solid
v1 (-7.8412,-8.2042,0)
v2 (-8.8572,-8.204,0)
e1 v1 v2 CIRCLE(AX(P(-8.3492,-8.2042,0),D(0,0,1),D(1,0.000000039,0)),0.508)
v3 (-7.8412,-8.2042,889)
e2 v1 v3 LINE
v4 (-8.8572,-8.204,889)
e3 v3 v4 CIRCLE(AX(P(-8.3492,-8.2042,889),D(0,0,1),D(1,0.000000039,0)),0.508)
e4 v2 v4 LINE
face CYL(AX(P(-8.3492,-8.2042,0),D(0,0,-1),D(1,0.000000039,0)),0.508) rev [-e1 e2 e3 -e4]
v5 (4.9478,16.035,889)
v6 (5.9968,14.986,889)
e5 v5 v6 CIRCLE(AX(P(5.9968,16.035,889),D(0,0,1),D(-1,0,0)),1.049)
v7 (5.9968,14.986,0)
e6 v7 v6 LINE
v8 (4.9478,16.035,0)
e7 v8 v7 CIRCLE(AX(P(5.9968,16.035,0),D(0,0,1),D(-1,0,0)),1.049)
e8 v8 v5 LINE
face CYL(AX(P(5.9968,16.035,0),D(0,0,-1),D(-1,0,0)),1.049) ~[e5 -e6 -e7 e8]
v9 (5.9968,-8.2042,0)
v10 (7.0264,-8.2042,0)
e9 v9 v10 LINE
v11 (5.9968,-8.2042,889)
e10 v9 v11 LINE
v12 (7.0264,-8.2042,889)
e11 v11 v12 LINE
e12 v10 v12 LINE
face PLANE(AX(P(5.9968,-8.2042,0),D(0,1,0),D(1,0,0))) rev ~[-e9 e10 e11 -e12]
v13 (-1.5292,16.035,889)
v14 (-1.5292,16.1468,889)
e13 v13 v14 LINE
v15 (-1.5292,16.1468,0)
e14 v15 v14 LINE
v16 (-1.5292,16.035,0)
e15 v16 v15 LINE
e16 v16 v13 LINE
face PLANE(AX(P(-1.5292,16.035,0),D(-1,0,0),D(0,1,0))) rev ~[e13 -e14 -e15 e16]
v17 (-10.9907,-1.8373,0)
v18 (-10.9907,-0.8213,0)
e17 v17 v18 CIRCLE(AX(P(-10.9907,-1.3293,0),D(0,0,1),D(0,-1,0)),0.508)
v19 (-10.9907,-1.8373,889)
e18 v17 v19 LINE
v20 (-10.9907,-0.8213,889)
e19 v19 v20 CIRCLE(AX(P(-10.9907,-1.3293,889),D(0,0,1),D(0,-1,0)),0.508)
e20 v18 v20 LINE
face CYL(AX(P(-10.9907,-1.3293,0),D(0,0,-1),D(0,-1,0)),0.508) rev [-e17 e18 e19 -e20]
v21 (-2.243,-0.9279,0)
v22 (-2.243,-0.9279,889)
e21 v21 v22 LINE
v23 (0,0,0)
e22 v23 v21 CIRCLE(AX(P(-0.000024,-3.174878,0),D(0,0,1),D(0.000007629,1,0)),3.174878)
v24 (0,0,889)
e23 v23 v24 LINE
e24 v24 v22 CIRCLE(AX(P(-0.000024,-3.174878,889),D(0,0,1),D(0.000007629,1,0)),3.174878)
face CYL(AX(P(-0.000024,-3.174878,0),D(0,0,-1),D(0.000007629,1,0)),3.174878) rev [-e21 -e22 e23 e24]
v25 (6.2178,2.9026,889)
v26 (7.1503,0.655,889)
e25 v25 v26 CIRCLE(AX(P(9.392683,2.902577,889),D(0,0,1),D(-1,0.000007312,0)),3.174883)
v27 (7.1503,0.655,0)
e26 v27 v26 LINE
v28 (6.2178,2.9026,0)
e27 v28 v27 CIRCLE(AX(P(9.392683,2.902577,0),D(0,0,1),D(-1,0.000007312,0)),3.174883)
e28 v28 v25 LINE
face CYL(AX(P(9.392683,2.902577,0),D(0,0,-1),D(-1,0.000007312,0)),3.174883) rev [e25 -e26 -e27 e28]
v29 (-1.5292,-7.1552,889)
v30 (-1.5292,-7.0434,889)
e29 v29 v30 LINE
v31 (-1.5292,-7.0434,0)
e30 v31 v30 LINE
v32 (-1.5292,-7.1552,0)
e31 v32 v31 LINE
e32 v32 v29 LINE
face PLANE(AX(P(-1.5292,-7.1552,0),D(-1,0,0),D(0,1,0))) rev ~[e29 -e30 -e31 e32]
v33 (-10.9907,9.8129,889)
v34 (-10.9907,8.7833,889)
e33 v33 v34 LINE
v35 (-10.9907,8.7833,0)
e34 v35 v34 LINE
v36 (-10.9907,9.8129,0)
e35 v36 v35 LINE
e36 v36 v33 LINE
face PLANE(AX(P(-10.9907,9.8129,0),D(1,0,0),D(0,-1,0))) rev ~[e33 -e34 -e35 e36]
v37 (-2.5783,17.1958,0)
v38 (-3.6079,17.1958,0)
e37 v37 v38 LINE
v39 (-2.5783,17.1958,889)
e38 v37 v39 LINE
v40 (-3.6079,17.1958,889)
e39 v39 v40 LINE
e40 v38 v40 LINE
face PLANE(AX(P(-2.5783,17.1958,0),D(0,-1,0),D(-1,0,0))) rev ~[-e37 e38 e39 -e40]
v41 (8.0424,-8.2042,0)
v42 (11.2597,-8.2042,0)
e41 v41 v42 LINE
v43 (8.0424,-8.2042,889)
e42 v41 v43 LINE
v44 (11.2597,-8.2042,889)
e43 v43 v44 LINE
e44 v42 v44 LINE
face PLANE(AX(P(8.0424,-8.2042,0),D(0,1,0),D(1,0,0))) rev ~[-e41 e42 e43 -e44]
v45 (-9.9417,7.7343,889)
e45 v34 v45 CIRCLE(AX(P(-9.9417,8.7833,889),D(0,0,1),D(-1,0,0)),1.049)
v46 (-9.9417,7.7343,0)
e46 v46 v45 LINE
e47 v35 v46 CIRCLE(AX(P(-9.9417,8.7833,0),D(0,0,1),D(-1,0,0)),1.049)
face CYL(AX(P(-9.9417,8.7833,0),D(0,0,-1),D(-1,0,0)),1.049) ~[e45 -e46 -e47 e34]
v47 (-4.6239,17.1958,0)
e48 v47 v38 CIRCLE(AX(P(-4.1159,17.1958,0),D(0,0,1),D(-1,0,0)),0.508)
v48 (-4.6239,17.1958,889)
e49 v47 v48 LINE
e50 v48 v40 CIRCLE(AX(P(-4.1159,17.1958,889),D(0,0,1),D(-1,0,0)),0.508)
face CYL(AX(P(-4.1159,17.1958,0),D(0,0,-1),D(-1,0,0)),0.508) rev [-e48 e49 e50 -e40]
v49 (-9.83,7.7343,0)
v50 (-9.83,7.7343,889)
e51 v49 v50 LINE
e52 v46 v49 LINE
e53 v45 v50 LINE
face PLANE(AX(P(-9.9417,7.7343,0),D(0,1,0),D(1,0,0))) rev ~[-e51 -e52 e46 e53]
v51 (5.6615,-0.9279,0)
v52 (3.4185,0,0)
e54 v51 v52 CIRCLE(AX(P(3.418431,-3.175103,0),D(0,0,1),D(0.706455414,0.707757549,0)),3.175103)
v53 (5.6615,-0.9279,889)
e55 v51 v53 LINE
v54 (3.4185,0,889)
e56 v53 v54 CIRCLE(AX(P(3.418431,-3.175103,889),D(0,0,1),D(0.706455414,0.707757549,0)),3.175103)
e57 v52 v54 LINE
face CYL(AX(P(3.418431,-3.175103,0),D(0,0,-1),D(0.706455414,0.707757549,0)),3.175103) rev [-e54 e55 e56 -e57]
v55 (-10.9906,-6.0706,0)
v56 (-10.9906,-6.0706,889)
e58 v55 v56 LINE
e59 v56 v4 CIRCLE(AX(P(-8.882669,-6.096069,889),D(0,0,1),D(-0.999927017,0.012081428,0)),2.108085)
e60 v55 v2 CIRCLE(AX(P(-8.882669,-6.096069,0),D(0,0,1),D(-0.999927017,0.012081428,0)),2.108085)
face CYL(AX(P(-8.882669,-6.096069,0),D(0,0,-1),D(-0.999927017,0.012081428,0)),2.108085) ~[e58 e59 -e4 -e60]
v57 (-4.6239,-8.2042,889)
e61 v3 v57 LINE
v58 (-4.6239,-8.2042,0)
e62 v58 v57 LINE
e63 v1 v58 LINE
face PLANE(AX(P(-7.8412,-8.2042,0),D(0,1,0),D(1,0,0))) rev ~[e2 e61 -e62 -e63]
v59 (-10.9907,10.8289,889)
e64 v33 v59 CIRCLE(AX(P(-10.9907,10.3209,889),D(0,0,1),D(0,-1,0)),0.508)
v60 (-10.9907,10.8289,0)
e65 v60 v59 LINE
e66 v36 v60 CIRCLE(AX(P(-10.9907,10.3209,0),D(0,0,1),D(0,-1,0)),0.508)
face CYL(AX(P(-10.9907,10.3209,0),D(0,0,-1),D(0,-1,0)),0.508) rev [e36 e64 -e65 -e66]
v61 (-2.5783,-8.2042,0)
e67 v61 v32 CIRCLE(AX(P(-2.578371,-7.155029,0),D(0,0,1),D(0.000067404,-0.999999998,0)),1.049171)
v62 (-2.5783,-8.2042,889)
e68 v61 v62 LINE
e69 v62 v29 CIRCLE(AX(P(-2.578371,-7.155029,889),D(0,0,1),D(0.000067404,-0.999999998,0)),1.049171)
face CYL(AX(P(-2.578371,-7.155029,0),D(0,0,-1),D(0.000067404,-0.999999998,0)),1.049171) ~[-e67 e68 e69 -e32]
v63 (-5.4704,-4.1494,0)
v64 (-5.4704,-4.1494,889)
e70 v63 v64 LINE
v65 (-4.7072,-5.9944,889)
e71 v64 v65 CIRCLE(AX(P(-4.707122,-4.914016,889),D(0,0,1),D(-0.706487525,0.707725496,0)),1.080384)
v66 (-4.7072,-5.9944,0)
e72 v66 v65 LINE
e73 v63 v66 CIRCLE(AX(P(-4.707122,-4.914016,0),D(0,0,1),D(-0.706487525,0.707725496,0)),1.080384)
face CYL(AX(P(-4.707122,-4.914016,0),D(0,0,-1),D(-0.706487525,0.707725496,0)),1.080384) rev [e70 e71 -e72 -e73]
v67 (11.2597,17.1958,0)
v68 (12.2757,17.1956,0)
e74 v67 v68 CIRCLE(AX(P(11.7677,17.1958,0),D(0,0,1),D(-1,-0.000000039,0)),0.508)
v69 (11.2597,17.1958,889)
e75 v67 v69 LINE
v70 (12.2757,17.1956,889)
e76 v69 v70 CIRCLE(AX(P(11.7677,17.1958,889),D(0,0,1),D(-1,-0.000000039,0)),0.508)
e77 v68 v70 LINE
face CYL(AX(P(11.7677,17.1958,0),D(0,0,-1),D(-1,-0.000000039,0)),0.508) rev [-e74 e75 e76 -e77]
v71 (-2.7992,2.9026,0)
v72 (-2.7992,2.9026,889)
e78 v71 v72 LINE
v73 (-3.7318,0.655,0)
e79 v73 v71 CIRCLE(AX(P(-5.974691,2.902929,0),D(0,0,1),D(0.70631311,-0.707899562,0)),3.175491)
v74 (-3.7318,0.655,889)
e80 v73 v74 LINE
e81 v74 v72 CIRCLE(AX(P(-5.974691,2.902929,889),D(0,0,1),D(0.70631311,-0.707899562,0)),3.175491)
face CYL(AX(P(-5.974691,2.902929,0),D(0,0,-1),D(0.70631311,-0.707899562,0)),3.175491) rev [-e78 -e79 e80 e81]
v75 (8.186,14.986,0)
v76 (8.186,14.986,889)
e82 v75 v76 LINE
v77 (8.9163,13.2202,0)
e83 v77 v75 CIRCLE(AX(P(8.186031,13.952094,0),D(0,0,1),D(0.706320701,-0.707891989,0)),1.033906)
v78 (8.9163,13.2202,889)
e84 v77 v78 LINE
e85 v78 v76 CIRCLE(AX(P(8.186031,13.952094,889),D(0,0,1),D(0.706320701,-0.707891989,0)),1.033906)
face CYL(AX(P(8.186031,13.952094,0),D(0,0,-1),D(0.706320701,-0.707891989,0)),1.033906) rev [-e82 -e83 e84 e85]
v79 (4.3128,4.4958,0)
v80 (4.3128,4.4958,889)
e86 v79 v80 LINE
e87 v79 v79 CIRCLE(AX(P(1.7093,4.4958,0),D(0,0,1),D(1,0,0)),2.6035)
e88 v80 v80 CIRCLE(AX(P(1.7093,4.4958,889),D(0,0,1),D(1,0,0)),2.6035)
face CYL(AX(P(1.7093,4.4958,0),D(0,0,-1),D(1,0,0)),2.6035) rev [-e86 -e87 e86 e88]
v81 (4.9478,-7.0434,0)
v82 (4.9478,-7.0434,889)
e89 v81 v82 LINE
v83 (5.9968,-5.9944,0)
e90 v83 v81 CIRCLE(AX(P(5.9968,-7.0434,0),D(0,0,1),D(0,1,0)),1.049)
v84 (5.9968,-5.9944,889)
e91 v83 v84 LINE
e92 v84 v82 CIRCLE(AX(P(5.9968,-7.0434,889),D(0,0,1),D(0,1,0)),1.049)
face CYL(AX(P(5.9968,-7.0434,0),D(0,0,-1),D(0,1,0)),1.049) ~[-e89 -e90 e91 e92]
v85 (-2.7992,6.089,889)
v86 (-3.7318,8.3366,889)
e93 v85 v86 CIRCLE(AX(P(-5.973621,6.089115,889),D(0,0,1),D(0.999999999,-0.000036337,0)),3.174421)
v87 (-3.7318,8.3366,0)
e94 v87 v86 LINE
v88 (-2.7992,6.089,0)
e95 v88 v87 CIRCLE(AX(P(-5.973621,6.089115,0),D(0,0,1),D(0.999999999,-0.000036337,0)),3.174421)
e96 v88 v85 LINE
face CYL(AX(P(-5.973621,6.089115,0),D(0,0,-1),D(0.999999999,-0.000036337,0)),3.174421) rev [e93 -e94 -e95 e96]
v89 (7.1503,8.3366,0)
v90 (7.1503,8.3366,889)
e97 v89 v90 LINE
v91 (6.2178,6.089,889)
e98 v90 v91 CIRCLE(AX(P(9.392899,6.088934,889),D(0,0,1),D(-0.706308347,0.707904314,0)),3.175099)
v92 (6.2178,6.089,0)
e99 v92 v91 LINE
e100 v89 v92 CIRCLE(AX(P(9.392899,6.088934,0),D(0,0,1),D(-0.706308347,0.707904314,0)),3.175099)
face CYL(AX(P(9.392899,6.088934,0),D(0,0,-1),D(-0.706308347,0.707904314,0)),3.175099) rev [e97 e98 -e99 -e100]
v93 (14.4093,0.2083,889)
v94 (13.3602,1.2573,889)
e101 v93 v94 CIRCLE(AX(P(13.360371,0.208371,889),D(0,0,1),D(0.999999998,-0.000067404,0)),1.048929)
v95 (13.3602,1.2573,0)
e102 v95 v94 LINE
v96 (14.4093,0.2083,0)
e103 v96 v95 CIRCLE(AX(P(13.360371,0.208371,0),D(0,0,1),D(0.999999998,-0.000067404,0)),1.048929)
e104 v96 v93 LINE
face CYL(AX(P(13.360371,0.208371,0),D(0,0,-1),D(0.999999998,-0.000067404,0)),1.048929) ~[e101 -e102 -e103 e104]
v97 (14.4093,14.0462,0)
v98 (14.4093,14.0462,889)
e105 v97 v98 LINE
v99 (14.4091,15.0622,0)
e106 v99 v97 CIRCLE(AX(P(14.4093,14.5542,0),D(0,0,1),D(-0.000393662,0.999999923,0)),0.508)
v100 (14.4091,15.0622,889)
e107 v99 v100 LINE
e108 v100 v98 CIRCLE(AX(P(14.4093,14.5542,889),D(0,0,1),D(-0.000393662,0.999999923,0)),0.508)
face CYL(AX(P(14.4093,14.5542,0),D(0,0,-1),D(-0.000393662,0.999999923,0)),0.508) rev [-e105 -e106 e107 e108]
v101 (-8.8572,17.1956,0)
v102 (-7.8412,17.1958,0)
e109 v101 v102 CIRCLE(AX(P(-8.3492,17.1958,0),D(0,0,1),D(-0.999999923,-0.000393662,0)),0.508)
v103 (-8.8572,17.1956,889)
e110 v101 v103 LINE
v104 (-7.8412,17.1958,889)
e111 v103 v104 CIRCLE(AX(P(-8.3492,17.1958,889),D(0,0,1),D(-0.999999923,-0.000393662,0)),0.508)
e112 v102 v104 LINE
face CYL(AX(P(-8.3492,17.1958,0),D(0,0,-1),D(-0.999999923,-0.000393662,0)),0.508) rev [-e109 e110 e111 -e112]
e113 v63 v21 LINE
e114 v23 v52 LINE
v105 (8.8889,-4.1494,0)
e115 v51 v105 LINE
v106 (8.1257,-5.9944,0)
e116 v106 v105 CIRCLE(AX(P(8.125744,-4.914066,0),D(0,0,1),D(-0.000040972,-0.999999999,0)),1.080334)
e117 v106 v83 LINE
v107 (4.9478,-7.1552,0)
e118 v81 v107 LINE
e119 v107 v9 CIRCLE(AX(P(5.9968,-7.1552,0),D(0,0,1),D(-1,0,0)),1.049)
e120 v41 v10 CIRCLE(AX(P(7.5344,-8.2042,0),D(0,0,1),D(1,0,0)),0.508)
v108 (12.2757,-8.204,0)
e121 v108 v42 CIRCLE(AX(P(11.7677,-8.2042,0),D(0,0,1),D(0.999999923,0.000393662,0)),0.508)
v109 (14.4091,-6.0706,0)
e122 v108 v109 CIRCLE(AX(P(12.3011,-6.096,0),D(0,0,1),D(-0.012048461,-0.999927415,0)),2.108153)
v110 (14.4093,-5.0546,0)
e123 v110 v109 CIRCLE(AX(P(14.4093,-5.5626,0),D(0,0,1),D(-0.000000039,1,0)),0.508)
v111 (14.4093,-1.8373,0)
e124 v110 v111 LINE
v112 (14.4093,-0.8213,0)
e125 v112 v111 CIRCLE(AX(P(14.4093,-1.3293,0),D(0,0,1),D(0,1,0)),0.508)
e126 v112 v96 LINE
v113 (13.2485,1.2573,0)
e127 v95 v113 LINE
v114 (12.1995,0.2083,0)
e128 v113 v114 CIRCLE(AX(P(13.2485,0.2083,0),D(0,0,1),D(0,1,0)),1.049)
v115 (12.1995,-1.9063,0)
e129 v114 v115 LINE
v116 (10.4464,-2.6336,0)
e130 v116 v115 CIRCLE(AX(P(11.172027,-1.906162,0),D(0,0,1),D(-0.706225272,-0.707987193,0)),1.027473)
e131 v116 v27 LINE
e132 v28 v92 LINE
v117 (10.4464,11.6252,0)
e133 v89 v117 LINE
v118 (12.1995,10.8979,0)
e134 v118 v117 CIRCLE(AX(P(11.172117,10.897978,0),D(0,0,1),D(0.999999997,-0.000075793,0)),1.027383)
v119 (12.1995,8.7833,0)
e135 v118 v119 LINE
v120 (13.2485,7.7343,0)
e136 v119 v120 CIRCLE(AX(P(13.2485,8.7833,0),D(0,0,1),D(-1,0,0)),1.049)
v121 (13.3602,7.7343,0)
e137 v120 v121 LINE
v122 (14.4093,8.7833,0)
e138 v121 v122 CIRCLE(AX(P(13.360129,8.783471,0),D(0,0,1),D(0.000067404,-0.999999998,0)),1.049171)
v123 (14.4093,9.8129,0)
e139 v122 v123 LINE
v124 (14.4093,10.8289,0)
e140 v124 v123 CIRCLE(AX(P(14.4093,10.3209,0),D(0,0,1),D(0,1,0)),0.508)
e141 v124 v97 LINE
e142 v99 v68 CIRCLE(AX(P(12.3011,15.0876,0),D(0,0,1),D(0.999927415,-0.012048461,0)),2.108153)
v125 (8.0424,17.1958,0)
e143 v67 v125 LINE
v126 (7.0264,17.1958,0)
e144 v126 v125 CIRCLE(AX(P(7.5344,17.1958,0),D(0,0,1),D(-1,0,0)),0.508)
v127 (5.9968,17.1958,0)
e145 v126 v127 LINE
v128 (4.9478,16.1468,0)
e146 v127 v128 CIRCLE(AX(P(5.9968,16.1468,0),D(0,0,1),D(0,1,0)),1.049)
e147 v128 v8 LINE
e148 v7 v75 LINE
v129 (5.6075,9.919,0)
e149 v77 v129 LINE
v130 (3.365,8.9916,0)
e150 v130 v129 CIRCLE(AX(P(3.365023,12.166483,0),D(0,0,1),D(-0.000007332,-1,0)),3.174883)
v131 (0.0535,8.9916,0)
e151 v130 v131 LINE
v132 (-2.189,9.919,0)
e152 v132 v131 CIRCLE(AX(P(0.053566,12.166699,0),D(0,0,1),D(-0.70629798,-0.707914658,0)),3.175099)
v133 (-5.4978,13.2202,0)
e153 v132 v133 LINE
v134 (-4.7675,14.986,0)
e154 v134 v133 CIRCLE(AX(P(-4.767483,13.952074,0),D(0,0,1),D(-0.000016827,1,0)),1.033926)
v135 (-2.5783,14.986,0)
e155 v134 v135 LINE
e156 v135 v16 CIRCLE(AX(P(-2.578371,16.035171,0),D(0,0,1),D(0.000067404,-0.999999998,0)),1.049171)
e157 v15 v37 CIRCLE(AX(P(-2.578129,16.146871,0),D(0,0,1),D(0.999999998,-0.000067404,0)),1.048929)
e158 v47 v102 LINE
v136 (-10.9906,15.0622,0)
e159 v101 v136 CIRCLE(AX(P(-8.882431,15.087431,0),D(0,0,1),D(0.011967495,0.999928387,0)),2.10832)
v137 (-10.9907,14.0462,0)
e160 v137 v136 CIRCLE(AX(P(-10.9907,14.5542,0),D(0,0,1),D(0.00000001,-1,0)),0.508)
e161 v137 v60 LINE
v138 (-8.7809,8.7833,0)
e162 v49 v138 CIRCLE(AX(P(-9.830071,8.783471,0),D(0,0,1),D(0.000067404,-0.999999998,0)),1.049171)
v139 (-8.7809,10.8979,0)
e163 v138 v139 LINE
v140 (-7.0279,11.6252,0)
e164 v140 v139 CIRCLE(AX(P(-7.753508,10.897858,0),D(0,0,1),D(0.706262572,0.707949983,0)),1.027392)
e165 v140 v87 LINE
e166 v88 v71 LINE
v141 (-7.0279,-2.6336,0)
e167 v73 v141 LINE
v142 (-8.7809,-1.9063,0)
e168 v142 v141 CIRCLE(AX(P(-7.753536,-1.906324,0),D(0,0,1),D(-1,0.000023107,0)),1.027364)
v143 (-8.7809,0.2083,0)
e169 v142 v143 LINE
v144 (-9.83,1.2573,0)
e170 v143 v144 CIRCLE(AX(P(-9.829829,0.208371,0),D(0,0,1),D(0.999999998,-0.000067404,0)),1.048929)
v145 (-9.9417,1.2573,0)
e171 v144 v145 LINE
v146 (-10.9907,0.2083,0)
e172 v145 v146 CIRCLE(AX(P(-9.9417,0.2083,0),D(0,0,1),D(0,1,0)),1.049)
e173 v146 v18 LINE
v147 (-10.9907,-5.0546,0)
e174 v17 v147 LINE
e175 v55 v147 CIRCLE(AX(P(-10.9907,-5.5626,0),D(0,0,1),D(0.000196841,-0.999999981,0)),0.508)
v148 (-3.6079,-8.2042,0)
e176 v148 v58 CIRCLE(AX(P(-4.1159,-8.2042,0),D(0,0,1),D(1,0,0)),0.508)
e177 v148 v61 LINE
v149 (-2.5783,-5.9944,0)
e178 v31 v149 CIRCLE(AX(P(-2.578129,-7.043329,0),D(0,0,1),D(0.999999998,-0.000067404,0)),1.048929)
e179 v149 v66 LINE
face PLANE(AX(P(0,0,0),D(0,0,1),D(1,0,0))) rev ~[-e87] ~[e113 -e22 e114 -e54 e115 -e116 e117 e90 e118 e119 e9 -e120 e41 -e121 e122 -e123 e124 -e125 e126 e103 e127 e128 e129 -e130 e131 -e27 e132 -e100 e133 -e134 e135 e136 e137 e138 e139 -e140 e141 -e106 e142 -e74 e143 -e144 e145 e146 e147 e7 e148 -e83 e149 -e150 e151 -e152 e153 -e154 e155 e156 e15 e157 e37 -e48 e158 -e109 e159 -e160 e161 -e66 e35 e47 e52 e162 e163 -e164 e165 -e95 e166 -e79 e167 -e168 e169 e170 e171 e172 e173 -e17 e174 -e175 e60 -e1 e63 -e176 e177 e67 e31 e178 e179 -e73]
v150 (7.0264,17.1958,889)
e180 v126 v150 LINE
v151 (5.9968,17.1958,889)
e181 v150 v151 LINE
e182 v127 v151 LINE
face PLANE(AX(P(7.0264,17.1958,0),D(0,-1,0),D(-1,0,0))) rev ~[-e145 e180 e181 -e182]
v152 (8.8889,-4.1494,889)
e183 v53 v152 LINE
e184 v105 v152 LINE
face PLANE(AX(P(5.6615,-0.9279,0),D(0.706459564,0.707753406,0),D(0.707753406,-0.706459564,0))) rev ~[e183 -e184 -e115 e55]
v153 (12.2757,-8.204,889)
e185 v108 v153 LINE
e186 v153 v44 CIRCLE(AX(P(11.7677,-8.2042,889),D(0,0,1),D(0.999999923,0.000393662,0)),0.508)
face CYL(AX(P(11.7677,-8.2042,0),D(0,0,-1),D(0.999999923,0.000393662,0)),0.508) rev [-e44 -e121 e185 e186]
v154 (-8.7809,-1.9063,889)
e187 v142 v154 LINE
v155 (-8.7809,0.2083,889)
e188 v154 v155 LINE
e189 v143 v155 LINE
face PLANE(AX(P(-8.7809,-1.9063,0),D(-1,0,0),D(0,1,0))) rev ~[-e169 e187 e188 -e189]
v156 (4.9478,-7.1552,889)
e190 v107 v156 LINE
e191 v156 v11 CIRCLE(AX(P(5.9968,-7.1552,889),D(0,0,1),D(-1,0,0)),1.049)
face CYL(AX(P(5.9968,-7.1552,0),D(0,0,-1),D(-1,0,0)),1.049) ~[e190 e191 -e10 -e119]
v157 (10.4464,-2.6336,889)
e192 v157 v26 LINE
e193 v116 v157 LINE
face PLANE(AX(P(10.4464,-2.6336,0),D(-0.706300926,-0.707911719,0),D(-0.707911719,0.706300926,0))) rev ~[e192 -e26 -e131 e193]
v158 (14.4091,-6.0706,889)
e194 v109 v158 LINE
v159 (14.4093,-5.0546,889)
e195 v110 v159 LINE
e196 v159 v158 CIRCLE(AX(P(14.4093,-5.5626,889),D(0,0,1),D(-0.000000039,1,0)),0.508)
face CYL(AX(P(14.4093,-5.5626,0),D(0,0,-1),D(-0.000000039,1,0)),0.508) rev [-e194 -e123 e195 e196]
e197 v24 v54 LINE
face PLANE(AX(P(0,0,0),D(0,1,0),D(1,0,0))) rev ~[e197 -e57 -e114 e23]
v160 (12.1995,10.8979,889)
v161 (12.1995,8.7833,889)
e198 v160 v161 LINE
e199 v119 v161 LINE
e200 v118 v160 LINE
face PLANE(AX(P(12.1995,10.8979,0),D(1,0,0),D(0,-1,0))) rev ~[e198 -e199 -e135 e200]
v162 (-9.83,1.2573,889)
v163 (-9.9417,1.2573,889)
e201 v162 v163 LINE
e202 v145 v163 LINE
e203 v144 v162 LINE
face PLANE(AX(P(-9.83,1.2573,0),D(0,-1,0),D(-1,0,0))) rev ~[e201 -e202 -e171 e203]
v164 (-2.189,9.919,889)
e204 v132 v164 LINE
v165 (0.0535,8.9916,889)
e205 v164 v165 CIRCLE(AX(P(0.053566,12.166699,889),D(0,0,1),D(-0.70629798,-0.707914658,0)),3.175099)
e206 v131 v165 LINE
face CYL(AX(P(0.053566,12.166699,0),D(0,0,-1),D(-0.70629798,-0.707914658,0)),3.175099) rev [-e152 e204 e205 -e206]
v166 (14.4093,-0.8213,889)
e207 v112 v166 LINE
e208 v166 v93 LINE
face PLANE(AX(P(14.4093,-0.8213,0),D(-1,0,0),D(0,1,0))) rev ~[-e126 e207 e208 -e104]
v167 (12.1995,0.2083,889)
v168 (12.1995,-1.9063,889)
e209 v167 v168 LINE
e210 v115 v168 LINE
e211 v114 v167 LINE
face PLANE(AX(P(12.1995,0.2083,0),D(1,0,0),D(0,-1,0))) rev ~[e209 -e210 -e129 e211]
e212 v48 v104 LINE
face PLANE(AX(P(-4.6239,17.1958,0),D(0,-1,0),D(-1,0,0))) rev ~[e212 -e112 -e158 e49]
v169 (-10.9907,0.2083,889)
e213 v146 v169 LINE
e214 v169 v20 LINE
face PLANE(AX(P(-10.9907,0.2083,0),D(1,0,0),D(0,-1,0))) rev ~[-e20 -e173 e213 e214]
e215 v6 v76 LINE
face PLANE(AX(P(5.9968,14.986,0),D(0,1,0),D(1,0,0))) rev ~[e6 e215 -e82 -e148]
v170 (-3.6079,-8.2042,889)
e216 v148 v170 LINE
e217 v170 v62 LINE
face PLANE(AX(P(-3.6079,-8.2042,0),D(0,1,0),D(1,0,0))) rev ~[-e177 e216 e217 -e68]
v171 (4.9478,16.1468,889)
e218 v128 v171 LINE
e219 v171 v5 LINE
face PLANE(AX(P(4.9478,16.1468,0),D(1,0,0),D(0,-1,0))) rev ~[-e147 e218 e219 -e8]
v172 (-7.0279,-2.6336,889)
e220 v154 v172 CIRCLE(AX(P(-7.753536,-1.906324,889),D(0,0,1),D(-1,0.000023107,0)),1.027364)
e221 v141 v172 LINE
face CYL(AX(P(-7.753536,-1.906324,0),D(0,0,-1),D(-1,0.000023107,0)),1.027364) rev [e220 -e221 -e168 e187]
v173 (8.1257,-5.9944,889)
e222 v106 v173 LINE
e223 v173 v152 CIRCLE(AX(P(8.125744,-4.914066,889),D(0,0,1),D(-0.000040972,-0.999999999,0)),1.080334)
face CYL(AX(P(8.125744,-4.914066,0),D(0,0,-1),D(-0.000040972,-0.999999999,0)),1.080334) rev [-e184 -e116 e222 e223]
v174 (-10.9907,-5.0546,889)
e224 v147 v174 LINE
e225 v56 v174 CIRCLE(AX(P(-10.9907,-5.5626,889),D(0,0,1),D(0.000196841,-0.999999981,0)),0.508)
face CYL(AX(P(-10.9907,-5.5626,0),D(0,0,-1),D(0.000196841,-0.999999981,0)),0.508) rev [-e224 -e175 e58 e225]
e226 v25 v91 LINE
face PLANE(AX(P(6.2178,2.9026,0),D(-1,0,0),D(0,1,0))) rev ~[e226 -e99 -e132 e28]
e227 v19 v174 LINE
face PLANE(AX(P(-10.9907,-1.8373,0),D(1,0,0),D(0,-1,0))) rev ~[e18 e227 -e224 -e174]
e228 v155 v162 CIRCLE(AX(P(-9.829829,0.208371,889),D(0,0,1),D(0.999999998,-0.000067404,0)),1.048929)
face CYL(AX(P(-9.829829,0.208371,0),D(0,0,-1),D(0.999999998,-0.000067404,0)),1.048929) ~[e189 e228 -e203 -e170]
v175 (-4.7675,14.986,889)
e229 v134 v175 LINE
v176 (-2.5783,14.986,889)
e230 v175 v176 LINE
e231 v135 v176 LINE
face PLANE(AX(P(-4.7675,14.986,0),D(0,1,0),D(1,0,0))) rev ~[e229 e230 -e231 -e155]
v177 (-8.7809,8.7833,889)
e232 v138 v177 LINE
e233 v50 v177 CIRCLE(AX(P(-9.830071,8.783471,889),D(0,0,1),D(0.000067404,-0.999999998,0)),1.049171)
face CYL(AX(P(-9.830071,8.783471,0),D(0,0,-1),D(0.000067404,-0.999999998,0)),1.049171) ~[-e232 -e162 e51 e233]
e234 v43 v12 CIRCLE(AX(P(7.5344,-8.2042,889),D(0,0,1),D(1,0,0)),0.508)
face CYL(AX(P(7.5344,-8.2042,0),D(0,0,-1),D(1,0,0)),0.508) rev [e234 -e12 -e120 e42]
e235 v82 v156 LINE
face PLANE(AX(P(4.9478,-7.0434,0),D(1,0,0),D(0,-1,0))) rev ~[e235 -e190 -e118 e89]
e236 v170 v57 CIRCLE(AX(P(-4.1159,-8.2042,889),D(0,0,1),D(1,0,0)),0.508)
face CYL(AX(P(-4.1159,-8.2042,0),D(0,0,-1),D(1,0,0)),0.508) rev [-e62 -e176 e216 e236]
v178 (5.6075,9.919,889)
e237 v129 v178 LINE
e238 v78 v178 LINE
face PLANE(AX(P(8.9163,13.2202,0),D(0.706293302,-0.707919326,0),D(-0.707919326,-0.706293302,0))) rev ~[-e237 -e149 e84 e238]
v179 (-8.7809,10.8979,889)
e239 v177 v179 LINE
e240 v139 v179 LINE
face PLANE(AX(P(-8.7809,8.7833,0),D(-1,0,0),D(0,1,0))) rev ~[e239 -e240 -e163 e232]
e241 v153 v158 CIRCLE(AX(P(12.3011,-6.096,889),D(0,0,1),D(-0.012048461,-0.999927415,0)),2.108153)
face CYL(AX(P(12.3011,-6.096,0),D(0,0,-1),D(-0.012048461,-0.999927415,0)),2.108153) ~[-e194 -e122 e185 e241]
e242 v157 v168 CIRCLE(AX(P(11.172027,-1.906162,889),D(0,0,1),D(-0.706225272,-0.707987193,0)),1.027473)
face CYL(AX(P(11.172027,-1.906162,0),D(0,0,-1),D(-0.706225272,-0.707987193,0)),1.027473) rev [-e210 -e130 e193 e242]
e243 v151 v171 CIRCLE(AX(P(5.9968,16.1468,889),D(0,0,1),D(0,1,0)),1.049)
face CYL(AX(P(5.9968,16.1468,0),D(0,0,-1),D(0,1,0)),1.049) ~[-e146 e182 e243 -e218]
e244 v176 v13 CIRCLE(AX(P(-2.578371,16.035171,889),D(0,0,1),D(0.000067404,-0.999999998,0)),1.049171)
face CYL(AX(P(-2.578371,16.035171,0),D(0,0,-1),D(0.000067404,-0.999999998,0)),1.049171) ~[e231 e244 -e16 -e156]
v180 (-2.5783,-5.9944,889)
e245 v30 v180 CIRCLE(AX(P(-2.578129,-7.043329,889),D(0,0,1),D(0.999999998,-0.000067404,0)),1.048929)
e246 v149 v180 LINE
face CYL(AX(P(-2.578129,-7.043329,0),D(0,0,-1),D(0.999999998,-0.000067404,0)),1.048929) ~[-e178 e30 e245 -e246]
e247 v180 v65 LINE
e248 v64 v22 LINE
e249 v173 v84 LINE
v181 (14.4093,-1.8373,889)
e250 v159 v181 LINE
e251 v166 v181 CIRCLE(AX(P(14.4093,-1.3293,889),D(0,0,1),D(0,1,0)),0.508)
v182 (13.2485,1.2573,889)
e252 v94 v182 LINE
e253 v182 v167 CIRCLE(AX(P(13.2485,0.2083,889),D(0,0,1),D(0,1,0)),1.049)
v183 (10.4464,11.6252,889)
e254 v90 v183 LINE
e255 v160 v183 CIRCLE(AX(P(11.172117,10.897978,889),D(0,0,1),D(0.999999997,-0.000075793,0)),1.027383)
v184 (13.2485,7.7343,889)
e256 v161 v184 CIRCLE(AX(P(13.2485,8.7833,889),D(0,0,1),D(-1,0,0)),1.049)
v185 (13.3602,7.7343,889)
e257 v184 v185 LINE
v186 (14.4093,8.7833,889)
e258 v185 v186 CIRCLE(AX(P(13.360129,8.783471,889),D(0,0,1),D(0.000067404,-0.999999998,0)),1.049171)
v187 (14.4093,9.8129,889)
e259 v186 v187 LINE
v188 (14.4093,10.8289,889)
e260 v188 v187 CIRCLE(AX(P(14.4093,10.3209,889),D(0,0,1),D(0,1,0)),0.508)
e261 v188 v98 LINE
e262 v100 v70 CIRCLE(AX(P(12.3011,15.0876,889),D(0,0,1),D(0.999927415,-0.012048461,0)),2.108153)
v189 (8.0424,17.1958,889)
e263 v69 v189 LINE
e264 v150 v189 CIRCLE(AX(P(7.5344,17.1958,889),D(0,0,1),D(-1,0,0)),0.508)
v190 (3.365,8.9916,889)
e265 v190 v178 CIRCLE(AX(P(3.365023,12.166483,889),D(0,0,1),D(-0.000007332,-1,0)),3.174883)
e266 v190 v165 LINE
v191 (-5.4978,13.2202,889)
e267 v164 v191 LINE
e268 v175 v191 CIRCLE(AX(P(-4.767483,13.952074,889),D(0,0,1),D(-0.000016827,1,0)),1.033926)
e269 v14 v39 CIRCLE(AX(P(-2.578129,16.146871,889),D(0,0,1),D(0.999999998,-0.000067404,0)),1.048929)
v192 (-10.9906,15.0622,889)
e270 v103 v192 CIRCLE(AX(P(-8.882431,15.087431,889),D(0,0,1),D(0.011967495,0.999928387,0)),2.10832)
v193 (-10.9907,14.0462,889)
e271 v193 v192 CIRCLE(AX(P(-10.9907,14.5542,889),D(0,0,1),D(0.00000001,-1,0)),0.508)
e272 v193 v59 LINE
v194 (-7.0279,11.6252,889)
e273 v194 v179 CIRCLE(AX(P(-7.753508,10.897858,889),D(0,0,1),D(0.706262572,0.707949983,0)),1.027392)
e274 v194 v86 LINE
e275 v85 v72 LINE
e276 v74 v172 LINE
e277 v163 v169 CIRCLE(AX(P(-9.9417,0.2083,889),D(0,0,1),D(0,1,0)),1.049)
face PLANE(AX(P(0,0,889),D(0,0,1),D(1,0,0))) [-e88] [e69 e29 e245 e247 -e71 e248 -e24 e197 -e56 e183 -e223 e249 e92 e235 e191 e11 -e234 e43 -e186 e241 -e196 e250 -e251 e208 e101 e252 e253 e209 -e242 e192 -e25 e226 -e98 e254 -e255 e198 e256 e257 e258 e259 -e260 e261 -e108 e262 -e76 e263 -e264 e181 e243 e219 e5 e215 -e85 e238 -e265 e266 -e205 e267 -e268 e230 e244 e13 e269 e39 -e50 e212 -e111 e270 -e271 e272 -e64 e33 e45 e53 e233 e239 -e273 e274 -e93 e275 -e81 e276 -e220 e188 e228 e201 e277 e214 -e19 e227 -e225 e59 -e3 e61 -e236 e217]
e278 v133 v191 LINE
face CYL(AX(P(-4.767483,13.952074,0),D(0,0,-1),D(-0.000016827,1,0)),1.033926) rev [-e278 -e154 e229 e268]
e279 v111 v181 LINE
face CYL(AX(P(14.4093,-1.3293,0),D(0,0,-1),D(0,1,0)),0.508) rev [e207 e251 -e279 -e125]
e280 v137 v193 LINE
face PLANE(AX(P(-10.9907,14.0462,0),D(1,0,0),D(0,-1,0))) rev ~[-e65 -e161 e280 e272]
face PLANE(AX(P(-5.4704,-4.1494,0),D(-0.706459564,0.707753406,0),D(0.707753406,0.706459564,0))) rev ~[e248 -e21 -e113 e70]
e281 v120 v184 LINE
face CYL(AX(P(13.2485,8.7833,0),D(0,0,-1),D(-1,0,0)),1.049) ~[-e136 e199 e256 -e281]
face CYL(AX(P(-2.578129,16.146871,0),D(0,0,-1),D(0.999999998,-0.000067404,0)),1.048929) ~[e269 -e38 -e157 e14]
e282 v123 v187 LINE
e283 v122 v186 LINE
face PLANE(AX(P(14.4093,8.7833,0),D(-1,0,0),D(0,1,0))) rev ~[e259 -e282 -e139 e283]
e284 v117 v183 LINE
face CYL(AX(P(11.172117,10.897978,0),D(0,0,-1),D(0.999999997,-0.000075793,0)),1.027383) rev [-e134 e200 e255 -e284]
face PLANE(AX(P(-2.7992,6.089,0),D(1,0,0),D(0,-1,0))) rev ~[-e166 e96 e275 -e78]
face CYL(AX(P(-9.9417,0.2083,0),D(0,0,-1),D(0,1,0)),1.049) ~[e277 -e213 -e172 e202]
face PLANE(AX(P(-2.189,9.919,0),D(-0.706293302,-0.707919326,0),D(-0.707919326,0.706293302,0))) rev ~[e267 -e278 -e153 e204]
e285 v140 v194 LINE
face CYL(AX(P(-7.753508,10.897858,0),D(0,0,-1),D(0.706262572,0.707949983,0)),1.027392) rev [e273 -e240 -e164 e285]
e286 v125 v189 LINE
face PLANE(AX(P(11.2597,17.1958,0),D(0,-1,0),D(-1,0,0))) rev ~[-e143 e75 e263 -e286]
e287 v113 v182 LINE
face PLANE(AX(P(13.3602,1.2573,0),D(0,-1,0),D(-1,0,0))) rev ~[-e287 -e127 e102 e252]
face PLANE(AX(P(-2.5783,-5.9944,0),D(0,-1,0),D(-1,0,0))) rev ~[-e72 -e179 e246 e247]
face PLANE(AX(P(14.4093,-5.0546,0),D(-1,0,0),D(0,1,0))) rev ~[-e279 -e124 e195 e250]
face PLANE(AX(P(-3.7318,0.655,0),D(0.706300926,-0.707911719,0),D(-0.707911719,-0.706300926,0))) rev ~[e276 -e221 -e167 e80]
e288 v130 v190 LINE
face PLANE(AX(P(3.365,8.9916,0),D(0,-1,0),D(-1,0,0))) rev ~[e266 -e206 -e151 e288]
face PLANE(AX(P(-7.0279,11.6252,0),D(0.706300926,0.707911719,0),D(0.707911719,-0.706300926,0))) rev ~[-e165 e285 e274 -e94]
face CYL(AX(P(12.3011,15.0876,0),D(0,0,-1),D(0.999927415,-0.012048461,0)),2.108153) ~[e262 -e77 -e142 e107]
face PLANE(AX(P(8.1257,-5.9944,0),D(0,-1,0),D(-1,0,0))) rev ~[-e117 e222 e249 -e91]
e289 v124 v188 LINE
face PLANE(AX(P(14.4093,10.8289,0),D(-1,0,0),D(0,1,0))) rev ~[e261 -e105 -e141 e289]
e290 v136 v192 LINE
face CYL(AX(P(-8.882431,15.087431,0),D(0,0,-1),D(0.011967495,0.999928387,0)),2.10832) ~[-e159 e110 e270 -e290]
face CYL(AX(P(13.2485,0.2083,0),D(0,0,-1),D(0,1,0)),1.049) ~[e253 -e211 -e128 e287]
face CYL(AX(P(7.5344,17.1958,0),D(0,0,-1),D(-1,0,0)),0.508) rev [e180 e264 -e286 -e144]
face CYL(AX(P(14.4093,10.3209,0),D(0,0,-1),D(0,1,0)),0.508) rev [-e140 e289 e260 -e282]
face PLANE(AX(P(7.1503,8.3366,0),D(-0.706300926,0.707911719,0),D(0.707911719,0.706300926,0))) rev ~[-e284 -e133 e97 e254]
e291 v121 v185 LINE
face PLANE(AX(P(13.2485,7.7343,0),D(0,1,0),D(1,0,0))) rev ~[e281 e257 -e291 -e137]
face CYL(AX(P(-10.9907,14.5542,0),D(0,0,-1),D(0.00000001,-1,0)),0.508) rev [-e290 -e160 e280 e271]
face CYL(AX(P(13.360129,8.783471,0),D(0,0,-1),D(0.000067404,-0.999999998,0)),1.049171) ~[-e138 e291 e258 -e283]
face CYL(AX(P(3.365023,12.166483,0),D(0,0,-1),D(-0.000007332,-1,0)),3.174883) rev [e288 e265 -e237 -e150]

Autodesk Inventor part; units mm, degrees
ref_plane "YZ Plane" through (0, 0, 0) normal (1, 0, 0) x (0, 1, 0)
ref_plane "XZ Plane" through (0, 0, 0) normal (0, 1, 0) x (-1, 0, 0)
ref_plane "XY Plane" through (0, 0, 0) normal (0, 0, 1) x (1, 0, 0)
sketch "Sketch1" plane through (0, 0, 0) normal (0, 0, 1) x (1, 0, 0)
  arc A0 (-5.4704, -4.1494) -> (-4.7072, -5.9944) centre (-4.7072, -4.914) ccw
  line L0 (-5.4704, -4.1494) -> (-2.243, -0.9279)
  arc A1 (0, 0) -> (-2.243, -0.9279) centre (0, -3.175) ccw
  line L1 (0, 0) -> (3.4185, 0)
  arc A2 (5.6615, -0.9279) -> (3.4185, 0) centre (3.4185, -3.175) ccw
  line L2 (5.6615, -0.9279) -> (8.8889, -4.1494)
  arc A3 (8.1257, -5.9944) -> (8.8889, -4.1494) centre (8.1257, -4.914) ccw
  line L3 (8.1257, -5.9944) -> (5.9968, -5.9944)
  arc A4 (5.9968, -5.9944) -> (4.9478, -7.0434) centre (5.9968, -7.0434) ccw
  line L4 (4.9478, -7.0434) -> (4.9478, -7.1552)
  arc A5 (4.9478, -7.1552) -> (5.9968, -8.2042) centre (5.9968, -7.1552) ccw
  line L5 (5.9968, -8.2042) -> (7.0264, -8.2042)
  arc A6 (8.0424, -8.2042) -> (7.0264, -8.2042) centre (7.5344, -8.2042) ccw
  line L6 (8.0424, -8.2042) -> (11.2597, -8.2042)
  arc A7 (12.2757, -8.204) -> (11.2597, -8.2042) centre (11.7677, -8.2042) ccw
  arc A8 (12.2757, -8.204) -> (14.4091, -6.0706) centre (12.3011, -6.096) ccw
  arc A9 (14.4093, -5.0546) -> (14.4091, -6.0706) centre (14.4093, -5.5626) ccw
  line L7 (14.4093, -5.0546) -> (14.4093, -1.8373)
  arc A10 (14.4093, -0.8213) -> (14.4093, -1.8373) centre (14.4093, -1.3293) ccw
  line L8 (14.4093, -0.8213) -> (14.4093, 0.2083)
  arc A11 (14.4093, 0.2083) -> (13.3602, 1.2573) centre (13.3602, 0.2083) ccw
  line L9 (13.3602, 1.2573) -> (13.2485, 1.2573)
  arc A12 (13.2485, 1.2573) -> (12.1995, 0.2083) centre (13.2485, 0.2083) ccw
  line L10 (12.1995, 0.2083) -> (12.1995, -1.9063)
  arc A13 (10.4464, -2.6336) -> (12.1995, -1.9063) centre (11.172, -1.9063) ccw
  line L11 (10.4464, -2.6336) -> (7.1503, 0.655)
  arc A14 (6.2178, 2.9026) -> (7.1503, 0.655) centre (9.3928, 2.9026) ccw
  line L12 (6.2178, 2.9026) -> (6.2178, 6.089)
  arc A15 (7.1503, 8.3366) -> (6.2178, 6.089) centre (9.3928, 6.089) ccw
  line L13 (7.1503, 8.3366) -> (10.4464, 11.6252)
  arc A16 (12.1995, 10.8979) -> (10.4464, 11.6252) centre (11.172, 10.8979) ccw
  line L14 (12.1995, 10.8979) -> (12.1995, 8.7833)
  arc A17 (12.1995, 8.7833) -> (13.2485, 7.7343) centre (13.2485, 8.7833) ccw
  line L15 (13.2485, 7.7343) -> (13.3602, 7.7343)
  arc A18 (13.3602, 7.7343) -> (14.4093, 8.7833) centre (13.3602, 8.7833) ccw
  line L16 (14.4093, 8.7833) -> (14.4093, 9.8129)
  arc A19 (14.4093, 10.8289) -> (14.4093, 9.8129) centre (14.4093, 10.3209) ccw
  line L17 (14.4093, 10.8289) -> (14.4093, 14.0462)
  arc A20 (14.4091, 15.0622) -> (14.4093, 14.0462) centre (14.4093, 14.5542) ccw
  arc A21 (14.4091, 15.0622) -> (12.2757, 17.1956) centre (12.3011, 15.0876) ccw
  arc A22 (11.2597, 17.1958) -> (12.2757, 17.1956) centre (11.7677, 17.1958) ccw
  line L18 (11.2597, 17.1958) -> (8.0424, 17.1958)
  arc A23 (7.0264, 17.1958) -> (8.0424, 17.1958) centre (7.5344, 17.1958) ccw
  line L19 (7.0264, 17.1958) -> (5.9968, 17.1958)
  arc A24 (5.9968, 17.1958) -> (4.9478, 16.1468) centre (5.9968, 16.1468) ccw
  line L20 (4.9478, 16.1468) -> (4.9478, 16.035)
  arc A25 (4.9478, 16.035) -> (5.9968, 14.986) centre (5.9968, 16.035) ccw
  line L21 (5.9968, 14.986) -> (8.186, 14.986)
  arc A26 (8.9163, 13.2202) -> (8.186, 14.986) centre (8.186, 13.9521) ccw
  line L22 (8.9163, 13.2202) -> (5.6075, 9.919)
  arc A27 (3.365, 8.9916) -> (5.6075, 9.919) centre (3.365, 12.1666) ccw
  line L23 (3.365, 8.9916) -> (0.0535, 8.9916)
  arc A28 (-2.189, 9.919) -> (0.0535, 8.9916) centre (0.0535, 12.1666) ccw
  line L24 (-2.189, 9.919) -> (-5.4978, 13.2202)
  arc A29 (-4.7675, 14.986) -> (-5.4978, 13.2202) centre (-4.7675, 13.9521) ccw
  line L25 (-4.7675, 14.986) -> (-2.5783, 14.986)
  arc A30 (-2.5783, 14.986) -> (-1.5292, 16.035) centre (-2.5783, 16.035) ccw
  line L26 (-1.5292, 16.035) -> (-1.5292, 16.1468)
  arc A31 (-1.5292, 16.1468) -> (-2.5783, 17.1958) centre (-2.5783, 16.1468) ccw
  line L27 (-2.5783, 17.1958) -> (-3.6079, 17.1958)
  arc A32 (-4.6239, 17.1958) -> (-3.6079, 17.1958) centre (-4.1159, 17.1958) ccw
  line L28 (-4.6239, 17.1958) -> (-7.8412, 17.1958)
  arc A33 (-8.8572, 17.1956) -> (-7.8412, 17.1958) centre (-8.3492, 17.1958) ccw
  arc A34 (-8.8572, 17.1956) -> (-10.9906, 15.0622) centre (-8.8825, 15.0876) ccw
  arc A35 (-10.9907, 14.0462) -> (-10.9906, 15.0622) centre (-10.9907, 14.5542) ccw
  line L29 (-10.9907, 14.0462) -> (-10.9907, 10.8289)
  arc A36 (-10.9907, 9.8129) -> (-10.9907, 10.8289) centre (-10.9907, 10.3209) ccw
  line L30 (-10.9907, 9.8129) -> (-10.9907, 8.7833)
  arc A37 (-10.9907, 8.7833) -> (-9.9417, 7.7343) centre (-9.9417, 8.7833) ccw
  line L31 (-9.9417, 7.7343) -> (-9.83, 7.7343)
  arc A38 (-9.83, 7.7343) -> (-8.7809, 8.7833) centre (-9.83, 8.7833) ccw
  line L32 (-8.7809, 8.7833) -> (-8.7809, 10.8979)
  arc A39 (-7.0279, 11.6252) -> (-8.7809, 10.8979) centre (-7.7535, 10.8979) ccw
  line L33 (-7.0279, 11.6252) -> (-3.7318, 8.3366)
  arc A40 (-2.7992, 6.089) -> (-3.7318, 8.3366) centre (-5.9742, 6.089) ccw
  line L34 (-2.7992, 6.089) -> (-2.7992, 2.9026)
  arc A41 (-3.7318, 0.655) -> (-2.7992, 2.9026) centre (-5.9742, 2.9026) ccw
  line L35 (-3.7318, 0.655) -> (-7.0279, -2.6336)
  arc A42 (-8.7809, -1.9063) -> (-7.0279, -2.6336) centre (-7.7535, -1.9063) ccw
  line L36 (-8.7809, -1.9063) -> (-8.7809, 0.2083)
  arc A43 (-8.7809, 0.2083) -> (-9.83, 1.2573) centre (-9.83, 0.2083) ccw
  line L37 (-9.83, 1.2573) -> (-9.9417, 1.2573)
  arc A44 (-9.9417, 1.2573) -> (-10.9907, 0.2083) centre (-9.9417, 0.2083) ccw
  line L38 (-10.9907, 0.2083) -> (-10.9907, -0.8213)
  arc A45 (-10.9907, -1.8373) -> (-10.9907, -0.8213) centre (-10.9907, -1.3293) ccw
  line L39 (-10.9907, -1.8373) -> (-10.9907, -5.0546)
  arc A46 (-10.9906, -6.0706) -> (-10.9907, -5.0546) centre (-10.9907, -5.5626) ccw
  arc A47 (-10.9906, -6.0706) -> (-8.8572, -8.204) centre (-8.8825, -6.096) ccw
  arc A48 (-7.8412, -8.2042) -> (-8.8572, -8.204) centre (-8.3492, -8.2042) ccw
  line L40 (-7.8412, -8.2042) -> (-4.6239, -8.2042)
  arc A49 (-3.6079, -8.2042) -> (-4.6239, -8.2042) centre (-4.1159, -8.2042) ccw
  line L41 (-3.6079, -8.2042) -> (-2.5783, -8.2042)
  arc A50 (-2.5783, -8.2042) -> (-1.5292, -7.1552) centre (-2.5783, -7.1552) ccw
  line L42 (-1.5292, -7.1552) -> (-1.5292, -7.0434)
  arc A51 (-1.5292, -7.0434) -> (-2.5783, -5.9944) centre (-2.5783, -7.0434) ccw
  line L43 (-2.5783, -5.9944) -> (-4.7072, -5.9944)
  circle A52 centre (1.7093, 4.4958) radius 2.6035
extrude "Extrusion1" add sketch "Sketch1" along normal blind 889
properties part number "35 in 1x1 T slot" material "Steel, Alloy"
